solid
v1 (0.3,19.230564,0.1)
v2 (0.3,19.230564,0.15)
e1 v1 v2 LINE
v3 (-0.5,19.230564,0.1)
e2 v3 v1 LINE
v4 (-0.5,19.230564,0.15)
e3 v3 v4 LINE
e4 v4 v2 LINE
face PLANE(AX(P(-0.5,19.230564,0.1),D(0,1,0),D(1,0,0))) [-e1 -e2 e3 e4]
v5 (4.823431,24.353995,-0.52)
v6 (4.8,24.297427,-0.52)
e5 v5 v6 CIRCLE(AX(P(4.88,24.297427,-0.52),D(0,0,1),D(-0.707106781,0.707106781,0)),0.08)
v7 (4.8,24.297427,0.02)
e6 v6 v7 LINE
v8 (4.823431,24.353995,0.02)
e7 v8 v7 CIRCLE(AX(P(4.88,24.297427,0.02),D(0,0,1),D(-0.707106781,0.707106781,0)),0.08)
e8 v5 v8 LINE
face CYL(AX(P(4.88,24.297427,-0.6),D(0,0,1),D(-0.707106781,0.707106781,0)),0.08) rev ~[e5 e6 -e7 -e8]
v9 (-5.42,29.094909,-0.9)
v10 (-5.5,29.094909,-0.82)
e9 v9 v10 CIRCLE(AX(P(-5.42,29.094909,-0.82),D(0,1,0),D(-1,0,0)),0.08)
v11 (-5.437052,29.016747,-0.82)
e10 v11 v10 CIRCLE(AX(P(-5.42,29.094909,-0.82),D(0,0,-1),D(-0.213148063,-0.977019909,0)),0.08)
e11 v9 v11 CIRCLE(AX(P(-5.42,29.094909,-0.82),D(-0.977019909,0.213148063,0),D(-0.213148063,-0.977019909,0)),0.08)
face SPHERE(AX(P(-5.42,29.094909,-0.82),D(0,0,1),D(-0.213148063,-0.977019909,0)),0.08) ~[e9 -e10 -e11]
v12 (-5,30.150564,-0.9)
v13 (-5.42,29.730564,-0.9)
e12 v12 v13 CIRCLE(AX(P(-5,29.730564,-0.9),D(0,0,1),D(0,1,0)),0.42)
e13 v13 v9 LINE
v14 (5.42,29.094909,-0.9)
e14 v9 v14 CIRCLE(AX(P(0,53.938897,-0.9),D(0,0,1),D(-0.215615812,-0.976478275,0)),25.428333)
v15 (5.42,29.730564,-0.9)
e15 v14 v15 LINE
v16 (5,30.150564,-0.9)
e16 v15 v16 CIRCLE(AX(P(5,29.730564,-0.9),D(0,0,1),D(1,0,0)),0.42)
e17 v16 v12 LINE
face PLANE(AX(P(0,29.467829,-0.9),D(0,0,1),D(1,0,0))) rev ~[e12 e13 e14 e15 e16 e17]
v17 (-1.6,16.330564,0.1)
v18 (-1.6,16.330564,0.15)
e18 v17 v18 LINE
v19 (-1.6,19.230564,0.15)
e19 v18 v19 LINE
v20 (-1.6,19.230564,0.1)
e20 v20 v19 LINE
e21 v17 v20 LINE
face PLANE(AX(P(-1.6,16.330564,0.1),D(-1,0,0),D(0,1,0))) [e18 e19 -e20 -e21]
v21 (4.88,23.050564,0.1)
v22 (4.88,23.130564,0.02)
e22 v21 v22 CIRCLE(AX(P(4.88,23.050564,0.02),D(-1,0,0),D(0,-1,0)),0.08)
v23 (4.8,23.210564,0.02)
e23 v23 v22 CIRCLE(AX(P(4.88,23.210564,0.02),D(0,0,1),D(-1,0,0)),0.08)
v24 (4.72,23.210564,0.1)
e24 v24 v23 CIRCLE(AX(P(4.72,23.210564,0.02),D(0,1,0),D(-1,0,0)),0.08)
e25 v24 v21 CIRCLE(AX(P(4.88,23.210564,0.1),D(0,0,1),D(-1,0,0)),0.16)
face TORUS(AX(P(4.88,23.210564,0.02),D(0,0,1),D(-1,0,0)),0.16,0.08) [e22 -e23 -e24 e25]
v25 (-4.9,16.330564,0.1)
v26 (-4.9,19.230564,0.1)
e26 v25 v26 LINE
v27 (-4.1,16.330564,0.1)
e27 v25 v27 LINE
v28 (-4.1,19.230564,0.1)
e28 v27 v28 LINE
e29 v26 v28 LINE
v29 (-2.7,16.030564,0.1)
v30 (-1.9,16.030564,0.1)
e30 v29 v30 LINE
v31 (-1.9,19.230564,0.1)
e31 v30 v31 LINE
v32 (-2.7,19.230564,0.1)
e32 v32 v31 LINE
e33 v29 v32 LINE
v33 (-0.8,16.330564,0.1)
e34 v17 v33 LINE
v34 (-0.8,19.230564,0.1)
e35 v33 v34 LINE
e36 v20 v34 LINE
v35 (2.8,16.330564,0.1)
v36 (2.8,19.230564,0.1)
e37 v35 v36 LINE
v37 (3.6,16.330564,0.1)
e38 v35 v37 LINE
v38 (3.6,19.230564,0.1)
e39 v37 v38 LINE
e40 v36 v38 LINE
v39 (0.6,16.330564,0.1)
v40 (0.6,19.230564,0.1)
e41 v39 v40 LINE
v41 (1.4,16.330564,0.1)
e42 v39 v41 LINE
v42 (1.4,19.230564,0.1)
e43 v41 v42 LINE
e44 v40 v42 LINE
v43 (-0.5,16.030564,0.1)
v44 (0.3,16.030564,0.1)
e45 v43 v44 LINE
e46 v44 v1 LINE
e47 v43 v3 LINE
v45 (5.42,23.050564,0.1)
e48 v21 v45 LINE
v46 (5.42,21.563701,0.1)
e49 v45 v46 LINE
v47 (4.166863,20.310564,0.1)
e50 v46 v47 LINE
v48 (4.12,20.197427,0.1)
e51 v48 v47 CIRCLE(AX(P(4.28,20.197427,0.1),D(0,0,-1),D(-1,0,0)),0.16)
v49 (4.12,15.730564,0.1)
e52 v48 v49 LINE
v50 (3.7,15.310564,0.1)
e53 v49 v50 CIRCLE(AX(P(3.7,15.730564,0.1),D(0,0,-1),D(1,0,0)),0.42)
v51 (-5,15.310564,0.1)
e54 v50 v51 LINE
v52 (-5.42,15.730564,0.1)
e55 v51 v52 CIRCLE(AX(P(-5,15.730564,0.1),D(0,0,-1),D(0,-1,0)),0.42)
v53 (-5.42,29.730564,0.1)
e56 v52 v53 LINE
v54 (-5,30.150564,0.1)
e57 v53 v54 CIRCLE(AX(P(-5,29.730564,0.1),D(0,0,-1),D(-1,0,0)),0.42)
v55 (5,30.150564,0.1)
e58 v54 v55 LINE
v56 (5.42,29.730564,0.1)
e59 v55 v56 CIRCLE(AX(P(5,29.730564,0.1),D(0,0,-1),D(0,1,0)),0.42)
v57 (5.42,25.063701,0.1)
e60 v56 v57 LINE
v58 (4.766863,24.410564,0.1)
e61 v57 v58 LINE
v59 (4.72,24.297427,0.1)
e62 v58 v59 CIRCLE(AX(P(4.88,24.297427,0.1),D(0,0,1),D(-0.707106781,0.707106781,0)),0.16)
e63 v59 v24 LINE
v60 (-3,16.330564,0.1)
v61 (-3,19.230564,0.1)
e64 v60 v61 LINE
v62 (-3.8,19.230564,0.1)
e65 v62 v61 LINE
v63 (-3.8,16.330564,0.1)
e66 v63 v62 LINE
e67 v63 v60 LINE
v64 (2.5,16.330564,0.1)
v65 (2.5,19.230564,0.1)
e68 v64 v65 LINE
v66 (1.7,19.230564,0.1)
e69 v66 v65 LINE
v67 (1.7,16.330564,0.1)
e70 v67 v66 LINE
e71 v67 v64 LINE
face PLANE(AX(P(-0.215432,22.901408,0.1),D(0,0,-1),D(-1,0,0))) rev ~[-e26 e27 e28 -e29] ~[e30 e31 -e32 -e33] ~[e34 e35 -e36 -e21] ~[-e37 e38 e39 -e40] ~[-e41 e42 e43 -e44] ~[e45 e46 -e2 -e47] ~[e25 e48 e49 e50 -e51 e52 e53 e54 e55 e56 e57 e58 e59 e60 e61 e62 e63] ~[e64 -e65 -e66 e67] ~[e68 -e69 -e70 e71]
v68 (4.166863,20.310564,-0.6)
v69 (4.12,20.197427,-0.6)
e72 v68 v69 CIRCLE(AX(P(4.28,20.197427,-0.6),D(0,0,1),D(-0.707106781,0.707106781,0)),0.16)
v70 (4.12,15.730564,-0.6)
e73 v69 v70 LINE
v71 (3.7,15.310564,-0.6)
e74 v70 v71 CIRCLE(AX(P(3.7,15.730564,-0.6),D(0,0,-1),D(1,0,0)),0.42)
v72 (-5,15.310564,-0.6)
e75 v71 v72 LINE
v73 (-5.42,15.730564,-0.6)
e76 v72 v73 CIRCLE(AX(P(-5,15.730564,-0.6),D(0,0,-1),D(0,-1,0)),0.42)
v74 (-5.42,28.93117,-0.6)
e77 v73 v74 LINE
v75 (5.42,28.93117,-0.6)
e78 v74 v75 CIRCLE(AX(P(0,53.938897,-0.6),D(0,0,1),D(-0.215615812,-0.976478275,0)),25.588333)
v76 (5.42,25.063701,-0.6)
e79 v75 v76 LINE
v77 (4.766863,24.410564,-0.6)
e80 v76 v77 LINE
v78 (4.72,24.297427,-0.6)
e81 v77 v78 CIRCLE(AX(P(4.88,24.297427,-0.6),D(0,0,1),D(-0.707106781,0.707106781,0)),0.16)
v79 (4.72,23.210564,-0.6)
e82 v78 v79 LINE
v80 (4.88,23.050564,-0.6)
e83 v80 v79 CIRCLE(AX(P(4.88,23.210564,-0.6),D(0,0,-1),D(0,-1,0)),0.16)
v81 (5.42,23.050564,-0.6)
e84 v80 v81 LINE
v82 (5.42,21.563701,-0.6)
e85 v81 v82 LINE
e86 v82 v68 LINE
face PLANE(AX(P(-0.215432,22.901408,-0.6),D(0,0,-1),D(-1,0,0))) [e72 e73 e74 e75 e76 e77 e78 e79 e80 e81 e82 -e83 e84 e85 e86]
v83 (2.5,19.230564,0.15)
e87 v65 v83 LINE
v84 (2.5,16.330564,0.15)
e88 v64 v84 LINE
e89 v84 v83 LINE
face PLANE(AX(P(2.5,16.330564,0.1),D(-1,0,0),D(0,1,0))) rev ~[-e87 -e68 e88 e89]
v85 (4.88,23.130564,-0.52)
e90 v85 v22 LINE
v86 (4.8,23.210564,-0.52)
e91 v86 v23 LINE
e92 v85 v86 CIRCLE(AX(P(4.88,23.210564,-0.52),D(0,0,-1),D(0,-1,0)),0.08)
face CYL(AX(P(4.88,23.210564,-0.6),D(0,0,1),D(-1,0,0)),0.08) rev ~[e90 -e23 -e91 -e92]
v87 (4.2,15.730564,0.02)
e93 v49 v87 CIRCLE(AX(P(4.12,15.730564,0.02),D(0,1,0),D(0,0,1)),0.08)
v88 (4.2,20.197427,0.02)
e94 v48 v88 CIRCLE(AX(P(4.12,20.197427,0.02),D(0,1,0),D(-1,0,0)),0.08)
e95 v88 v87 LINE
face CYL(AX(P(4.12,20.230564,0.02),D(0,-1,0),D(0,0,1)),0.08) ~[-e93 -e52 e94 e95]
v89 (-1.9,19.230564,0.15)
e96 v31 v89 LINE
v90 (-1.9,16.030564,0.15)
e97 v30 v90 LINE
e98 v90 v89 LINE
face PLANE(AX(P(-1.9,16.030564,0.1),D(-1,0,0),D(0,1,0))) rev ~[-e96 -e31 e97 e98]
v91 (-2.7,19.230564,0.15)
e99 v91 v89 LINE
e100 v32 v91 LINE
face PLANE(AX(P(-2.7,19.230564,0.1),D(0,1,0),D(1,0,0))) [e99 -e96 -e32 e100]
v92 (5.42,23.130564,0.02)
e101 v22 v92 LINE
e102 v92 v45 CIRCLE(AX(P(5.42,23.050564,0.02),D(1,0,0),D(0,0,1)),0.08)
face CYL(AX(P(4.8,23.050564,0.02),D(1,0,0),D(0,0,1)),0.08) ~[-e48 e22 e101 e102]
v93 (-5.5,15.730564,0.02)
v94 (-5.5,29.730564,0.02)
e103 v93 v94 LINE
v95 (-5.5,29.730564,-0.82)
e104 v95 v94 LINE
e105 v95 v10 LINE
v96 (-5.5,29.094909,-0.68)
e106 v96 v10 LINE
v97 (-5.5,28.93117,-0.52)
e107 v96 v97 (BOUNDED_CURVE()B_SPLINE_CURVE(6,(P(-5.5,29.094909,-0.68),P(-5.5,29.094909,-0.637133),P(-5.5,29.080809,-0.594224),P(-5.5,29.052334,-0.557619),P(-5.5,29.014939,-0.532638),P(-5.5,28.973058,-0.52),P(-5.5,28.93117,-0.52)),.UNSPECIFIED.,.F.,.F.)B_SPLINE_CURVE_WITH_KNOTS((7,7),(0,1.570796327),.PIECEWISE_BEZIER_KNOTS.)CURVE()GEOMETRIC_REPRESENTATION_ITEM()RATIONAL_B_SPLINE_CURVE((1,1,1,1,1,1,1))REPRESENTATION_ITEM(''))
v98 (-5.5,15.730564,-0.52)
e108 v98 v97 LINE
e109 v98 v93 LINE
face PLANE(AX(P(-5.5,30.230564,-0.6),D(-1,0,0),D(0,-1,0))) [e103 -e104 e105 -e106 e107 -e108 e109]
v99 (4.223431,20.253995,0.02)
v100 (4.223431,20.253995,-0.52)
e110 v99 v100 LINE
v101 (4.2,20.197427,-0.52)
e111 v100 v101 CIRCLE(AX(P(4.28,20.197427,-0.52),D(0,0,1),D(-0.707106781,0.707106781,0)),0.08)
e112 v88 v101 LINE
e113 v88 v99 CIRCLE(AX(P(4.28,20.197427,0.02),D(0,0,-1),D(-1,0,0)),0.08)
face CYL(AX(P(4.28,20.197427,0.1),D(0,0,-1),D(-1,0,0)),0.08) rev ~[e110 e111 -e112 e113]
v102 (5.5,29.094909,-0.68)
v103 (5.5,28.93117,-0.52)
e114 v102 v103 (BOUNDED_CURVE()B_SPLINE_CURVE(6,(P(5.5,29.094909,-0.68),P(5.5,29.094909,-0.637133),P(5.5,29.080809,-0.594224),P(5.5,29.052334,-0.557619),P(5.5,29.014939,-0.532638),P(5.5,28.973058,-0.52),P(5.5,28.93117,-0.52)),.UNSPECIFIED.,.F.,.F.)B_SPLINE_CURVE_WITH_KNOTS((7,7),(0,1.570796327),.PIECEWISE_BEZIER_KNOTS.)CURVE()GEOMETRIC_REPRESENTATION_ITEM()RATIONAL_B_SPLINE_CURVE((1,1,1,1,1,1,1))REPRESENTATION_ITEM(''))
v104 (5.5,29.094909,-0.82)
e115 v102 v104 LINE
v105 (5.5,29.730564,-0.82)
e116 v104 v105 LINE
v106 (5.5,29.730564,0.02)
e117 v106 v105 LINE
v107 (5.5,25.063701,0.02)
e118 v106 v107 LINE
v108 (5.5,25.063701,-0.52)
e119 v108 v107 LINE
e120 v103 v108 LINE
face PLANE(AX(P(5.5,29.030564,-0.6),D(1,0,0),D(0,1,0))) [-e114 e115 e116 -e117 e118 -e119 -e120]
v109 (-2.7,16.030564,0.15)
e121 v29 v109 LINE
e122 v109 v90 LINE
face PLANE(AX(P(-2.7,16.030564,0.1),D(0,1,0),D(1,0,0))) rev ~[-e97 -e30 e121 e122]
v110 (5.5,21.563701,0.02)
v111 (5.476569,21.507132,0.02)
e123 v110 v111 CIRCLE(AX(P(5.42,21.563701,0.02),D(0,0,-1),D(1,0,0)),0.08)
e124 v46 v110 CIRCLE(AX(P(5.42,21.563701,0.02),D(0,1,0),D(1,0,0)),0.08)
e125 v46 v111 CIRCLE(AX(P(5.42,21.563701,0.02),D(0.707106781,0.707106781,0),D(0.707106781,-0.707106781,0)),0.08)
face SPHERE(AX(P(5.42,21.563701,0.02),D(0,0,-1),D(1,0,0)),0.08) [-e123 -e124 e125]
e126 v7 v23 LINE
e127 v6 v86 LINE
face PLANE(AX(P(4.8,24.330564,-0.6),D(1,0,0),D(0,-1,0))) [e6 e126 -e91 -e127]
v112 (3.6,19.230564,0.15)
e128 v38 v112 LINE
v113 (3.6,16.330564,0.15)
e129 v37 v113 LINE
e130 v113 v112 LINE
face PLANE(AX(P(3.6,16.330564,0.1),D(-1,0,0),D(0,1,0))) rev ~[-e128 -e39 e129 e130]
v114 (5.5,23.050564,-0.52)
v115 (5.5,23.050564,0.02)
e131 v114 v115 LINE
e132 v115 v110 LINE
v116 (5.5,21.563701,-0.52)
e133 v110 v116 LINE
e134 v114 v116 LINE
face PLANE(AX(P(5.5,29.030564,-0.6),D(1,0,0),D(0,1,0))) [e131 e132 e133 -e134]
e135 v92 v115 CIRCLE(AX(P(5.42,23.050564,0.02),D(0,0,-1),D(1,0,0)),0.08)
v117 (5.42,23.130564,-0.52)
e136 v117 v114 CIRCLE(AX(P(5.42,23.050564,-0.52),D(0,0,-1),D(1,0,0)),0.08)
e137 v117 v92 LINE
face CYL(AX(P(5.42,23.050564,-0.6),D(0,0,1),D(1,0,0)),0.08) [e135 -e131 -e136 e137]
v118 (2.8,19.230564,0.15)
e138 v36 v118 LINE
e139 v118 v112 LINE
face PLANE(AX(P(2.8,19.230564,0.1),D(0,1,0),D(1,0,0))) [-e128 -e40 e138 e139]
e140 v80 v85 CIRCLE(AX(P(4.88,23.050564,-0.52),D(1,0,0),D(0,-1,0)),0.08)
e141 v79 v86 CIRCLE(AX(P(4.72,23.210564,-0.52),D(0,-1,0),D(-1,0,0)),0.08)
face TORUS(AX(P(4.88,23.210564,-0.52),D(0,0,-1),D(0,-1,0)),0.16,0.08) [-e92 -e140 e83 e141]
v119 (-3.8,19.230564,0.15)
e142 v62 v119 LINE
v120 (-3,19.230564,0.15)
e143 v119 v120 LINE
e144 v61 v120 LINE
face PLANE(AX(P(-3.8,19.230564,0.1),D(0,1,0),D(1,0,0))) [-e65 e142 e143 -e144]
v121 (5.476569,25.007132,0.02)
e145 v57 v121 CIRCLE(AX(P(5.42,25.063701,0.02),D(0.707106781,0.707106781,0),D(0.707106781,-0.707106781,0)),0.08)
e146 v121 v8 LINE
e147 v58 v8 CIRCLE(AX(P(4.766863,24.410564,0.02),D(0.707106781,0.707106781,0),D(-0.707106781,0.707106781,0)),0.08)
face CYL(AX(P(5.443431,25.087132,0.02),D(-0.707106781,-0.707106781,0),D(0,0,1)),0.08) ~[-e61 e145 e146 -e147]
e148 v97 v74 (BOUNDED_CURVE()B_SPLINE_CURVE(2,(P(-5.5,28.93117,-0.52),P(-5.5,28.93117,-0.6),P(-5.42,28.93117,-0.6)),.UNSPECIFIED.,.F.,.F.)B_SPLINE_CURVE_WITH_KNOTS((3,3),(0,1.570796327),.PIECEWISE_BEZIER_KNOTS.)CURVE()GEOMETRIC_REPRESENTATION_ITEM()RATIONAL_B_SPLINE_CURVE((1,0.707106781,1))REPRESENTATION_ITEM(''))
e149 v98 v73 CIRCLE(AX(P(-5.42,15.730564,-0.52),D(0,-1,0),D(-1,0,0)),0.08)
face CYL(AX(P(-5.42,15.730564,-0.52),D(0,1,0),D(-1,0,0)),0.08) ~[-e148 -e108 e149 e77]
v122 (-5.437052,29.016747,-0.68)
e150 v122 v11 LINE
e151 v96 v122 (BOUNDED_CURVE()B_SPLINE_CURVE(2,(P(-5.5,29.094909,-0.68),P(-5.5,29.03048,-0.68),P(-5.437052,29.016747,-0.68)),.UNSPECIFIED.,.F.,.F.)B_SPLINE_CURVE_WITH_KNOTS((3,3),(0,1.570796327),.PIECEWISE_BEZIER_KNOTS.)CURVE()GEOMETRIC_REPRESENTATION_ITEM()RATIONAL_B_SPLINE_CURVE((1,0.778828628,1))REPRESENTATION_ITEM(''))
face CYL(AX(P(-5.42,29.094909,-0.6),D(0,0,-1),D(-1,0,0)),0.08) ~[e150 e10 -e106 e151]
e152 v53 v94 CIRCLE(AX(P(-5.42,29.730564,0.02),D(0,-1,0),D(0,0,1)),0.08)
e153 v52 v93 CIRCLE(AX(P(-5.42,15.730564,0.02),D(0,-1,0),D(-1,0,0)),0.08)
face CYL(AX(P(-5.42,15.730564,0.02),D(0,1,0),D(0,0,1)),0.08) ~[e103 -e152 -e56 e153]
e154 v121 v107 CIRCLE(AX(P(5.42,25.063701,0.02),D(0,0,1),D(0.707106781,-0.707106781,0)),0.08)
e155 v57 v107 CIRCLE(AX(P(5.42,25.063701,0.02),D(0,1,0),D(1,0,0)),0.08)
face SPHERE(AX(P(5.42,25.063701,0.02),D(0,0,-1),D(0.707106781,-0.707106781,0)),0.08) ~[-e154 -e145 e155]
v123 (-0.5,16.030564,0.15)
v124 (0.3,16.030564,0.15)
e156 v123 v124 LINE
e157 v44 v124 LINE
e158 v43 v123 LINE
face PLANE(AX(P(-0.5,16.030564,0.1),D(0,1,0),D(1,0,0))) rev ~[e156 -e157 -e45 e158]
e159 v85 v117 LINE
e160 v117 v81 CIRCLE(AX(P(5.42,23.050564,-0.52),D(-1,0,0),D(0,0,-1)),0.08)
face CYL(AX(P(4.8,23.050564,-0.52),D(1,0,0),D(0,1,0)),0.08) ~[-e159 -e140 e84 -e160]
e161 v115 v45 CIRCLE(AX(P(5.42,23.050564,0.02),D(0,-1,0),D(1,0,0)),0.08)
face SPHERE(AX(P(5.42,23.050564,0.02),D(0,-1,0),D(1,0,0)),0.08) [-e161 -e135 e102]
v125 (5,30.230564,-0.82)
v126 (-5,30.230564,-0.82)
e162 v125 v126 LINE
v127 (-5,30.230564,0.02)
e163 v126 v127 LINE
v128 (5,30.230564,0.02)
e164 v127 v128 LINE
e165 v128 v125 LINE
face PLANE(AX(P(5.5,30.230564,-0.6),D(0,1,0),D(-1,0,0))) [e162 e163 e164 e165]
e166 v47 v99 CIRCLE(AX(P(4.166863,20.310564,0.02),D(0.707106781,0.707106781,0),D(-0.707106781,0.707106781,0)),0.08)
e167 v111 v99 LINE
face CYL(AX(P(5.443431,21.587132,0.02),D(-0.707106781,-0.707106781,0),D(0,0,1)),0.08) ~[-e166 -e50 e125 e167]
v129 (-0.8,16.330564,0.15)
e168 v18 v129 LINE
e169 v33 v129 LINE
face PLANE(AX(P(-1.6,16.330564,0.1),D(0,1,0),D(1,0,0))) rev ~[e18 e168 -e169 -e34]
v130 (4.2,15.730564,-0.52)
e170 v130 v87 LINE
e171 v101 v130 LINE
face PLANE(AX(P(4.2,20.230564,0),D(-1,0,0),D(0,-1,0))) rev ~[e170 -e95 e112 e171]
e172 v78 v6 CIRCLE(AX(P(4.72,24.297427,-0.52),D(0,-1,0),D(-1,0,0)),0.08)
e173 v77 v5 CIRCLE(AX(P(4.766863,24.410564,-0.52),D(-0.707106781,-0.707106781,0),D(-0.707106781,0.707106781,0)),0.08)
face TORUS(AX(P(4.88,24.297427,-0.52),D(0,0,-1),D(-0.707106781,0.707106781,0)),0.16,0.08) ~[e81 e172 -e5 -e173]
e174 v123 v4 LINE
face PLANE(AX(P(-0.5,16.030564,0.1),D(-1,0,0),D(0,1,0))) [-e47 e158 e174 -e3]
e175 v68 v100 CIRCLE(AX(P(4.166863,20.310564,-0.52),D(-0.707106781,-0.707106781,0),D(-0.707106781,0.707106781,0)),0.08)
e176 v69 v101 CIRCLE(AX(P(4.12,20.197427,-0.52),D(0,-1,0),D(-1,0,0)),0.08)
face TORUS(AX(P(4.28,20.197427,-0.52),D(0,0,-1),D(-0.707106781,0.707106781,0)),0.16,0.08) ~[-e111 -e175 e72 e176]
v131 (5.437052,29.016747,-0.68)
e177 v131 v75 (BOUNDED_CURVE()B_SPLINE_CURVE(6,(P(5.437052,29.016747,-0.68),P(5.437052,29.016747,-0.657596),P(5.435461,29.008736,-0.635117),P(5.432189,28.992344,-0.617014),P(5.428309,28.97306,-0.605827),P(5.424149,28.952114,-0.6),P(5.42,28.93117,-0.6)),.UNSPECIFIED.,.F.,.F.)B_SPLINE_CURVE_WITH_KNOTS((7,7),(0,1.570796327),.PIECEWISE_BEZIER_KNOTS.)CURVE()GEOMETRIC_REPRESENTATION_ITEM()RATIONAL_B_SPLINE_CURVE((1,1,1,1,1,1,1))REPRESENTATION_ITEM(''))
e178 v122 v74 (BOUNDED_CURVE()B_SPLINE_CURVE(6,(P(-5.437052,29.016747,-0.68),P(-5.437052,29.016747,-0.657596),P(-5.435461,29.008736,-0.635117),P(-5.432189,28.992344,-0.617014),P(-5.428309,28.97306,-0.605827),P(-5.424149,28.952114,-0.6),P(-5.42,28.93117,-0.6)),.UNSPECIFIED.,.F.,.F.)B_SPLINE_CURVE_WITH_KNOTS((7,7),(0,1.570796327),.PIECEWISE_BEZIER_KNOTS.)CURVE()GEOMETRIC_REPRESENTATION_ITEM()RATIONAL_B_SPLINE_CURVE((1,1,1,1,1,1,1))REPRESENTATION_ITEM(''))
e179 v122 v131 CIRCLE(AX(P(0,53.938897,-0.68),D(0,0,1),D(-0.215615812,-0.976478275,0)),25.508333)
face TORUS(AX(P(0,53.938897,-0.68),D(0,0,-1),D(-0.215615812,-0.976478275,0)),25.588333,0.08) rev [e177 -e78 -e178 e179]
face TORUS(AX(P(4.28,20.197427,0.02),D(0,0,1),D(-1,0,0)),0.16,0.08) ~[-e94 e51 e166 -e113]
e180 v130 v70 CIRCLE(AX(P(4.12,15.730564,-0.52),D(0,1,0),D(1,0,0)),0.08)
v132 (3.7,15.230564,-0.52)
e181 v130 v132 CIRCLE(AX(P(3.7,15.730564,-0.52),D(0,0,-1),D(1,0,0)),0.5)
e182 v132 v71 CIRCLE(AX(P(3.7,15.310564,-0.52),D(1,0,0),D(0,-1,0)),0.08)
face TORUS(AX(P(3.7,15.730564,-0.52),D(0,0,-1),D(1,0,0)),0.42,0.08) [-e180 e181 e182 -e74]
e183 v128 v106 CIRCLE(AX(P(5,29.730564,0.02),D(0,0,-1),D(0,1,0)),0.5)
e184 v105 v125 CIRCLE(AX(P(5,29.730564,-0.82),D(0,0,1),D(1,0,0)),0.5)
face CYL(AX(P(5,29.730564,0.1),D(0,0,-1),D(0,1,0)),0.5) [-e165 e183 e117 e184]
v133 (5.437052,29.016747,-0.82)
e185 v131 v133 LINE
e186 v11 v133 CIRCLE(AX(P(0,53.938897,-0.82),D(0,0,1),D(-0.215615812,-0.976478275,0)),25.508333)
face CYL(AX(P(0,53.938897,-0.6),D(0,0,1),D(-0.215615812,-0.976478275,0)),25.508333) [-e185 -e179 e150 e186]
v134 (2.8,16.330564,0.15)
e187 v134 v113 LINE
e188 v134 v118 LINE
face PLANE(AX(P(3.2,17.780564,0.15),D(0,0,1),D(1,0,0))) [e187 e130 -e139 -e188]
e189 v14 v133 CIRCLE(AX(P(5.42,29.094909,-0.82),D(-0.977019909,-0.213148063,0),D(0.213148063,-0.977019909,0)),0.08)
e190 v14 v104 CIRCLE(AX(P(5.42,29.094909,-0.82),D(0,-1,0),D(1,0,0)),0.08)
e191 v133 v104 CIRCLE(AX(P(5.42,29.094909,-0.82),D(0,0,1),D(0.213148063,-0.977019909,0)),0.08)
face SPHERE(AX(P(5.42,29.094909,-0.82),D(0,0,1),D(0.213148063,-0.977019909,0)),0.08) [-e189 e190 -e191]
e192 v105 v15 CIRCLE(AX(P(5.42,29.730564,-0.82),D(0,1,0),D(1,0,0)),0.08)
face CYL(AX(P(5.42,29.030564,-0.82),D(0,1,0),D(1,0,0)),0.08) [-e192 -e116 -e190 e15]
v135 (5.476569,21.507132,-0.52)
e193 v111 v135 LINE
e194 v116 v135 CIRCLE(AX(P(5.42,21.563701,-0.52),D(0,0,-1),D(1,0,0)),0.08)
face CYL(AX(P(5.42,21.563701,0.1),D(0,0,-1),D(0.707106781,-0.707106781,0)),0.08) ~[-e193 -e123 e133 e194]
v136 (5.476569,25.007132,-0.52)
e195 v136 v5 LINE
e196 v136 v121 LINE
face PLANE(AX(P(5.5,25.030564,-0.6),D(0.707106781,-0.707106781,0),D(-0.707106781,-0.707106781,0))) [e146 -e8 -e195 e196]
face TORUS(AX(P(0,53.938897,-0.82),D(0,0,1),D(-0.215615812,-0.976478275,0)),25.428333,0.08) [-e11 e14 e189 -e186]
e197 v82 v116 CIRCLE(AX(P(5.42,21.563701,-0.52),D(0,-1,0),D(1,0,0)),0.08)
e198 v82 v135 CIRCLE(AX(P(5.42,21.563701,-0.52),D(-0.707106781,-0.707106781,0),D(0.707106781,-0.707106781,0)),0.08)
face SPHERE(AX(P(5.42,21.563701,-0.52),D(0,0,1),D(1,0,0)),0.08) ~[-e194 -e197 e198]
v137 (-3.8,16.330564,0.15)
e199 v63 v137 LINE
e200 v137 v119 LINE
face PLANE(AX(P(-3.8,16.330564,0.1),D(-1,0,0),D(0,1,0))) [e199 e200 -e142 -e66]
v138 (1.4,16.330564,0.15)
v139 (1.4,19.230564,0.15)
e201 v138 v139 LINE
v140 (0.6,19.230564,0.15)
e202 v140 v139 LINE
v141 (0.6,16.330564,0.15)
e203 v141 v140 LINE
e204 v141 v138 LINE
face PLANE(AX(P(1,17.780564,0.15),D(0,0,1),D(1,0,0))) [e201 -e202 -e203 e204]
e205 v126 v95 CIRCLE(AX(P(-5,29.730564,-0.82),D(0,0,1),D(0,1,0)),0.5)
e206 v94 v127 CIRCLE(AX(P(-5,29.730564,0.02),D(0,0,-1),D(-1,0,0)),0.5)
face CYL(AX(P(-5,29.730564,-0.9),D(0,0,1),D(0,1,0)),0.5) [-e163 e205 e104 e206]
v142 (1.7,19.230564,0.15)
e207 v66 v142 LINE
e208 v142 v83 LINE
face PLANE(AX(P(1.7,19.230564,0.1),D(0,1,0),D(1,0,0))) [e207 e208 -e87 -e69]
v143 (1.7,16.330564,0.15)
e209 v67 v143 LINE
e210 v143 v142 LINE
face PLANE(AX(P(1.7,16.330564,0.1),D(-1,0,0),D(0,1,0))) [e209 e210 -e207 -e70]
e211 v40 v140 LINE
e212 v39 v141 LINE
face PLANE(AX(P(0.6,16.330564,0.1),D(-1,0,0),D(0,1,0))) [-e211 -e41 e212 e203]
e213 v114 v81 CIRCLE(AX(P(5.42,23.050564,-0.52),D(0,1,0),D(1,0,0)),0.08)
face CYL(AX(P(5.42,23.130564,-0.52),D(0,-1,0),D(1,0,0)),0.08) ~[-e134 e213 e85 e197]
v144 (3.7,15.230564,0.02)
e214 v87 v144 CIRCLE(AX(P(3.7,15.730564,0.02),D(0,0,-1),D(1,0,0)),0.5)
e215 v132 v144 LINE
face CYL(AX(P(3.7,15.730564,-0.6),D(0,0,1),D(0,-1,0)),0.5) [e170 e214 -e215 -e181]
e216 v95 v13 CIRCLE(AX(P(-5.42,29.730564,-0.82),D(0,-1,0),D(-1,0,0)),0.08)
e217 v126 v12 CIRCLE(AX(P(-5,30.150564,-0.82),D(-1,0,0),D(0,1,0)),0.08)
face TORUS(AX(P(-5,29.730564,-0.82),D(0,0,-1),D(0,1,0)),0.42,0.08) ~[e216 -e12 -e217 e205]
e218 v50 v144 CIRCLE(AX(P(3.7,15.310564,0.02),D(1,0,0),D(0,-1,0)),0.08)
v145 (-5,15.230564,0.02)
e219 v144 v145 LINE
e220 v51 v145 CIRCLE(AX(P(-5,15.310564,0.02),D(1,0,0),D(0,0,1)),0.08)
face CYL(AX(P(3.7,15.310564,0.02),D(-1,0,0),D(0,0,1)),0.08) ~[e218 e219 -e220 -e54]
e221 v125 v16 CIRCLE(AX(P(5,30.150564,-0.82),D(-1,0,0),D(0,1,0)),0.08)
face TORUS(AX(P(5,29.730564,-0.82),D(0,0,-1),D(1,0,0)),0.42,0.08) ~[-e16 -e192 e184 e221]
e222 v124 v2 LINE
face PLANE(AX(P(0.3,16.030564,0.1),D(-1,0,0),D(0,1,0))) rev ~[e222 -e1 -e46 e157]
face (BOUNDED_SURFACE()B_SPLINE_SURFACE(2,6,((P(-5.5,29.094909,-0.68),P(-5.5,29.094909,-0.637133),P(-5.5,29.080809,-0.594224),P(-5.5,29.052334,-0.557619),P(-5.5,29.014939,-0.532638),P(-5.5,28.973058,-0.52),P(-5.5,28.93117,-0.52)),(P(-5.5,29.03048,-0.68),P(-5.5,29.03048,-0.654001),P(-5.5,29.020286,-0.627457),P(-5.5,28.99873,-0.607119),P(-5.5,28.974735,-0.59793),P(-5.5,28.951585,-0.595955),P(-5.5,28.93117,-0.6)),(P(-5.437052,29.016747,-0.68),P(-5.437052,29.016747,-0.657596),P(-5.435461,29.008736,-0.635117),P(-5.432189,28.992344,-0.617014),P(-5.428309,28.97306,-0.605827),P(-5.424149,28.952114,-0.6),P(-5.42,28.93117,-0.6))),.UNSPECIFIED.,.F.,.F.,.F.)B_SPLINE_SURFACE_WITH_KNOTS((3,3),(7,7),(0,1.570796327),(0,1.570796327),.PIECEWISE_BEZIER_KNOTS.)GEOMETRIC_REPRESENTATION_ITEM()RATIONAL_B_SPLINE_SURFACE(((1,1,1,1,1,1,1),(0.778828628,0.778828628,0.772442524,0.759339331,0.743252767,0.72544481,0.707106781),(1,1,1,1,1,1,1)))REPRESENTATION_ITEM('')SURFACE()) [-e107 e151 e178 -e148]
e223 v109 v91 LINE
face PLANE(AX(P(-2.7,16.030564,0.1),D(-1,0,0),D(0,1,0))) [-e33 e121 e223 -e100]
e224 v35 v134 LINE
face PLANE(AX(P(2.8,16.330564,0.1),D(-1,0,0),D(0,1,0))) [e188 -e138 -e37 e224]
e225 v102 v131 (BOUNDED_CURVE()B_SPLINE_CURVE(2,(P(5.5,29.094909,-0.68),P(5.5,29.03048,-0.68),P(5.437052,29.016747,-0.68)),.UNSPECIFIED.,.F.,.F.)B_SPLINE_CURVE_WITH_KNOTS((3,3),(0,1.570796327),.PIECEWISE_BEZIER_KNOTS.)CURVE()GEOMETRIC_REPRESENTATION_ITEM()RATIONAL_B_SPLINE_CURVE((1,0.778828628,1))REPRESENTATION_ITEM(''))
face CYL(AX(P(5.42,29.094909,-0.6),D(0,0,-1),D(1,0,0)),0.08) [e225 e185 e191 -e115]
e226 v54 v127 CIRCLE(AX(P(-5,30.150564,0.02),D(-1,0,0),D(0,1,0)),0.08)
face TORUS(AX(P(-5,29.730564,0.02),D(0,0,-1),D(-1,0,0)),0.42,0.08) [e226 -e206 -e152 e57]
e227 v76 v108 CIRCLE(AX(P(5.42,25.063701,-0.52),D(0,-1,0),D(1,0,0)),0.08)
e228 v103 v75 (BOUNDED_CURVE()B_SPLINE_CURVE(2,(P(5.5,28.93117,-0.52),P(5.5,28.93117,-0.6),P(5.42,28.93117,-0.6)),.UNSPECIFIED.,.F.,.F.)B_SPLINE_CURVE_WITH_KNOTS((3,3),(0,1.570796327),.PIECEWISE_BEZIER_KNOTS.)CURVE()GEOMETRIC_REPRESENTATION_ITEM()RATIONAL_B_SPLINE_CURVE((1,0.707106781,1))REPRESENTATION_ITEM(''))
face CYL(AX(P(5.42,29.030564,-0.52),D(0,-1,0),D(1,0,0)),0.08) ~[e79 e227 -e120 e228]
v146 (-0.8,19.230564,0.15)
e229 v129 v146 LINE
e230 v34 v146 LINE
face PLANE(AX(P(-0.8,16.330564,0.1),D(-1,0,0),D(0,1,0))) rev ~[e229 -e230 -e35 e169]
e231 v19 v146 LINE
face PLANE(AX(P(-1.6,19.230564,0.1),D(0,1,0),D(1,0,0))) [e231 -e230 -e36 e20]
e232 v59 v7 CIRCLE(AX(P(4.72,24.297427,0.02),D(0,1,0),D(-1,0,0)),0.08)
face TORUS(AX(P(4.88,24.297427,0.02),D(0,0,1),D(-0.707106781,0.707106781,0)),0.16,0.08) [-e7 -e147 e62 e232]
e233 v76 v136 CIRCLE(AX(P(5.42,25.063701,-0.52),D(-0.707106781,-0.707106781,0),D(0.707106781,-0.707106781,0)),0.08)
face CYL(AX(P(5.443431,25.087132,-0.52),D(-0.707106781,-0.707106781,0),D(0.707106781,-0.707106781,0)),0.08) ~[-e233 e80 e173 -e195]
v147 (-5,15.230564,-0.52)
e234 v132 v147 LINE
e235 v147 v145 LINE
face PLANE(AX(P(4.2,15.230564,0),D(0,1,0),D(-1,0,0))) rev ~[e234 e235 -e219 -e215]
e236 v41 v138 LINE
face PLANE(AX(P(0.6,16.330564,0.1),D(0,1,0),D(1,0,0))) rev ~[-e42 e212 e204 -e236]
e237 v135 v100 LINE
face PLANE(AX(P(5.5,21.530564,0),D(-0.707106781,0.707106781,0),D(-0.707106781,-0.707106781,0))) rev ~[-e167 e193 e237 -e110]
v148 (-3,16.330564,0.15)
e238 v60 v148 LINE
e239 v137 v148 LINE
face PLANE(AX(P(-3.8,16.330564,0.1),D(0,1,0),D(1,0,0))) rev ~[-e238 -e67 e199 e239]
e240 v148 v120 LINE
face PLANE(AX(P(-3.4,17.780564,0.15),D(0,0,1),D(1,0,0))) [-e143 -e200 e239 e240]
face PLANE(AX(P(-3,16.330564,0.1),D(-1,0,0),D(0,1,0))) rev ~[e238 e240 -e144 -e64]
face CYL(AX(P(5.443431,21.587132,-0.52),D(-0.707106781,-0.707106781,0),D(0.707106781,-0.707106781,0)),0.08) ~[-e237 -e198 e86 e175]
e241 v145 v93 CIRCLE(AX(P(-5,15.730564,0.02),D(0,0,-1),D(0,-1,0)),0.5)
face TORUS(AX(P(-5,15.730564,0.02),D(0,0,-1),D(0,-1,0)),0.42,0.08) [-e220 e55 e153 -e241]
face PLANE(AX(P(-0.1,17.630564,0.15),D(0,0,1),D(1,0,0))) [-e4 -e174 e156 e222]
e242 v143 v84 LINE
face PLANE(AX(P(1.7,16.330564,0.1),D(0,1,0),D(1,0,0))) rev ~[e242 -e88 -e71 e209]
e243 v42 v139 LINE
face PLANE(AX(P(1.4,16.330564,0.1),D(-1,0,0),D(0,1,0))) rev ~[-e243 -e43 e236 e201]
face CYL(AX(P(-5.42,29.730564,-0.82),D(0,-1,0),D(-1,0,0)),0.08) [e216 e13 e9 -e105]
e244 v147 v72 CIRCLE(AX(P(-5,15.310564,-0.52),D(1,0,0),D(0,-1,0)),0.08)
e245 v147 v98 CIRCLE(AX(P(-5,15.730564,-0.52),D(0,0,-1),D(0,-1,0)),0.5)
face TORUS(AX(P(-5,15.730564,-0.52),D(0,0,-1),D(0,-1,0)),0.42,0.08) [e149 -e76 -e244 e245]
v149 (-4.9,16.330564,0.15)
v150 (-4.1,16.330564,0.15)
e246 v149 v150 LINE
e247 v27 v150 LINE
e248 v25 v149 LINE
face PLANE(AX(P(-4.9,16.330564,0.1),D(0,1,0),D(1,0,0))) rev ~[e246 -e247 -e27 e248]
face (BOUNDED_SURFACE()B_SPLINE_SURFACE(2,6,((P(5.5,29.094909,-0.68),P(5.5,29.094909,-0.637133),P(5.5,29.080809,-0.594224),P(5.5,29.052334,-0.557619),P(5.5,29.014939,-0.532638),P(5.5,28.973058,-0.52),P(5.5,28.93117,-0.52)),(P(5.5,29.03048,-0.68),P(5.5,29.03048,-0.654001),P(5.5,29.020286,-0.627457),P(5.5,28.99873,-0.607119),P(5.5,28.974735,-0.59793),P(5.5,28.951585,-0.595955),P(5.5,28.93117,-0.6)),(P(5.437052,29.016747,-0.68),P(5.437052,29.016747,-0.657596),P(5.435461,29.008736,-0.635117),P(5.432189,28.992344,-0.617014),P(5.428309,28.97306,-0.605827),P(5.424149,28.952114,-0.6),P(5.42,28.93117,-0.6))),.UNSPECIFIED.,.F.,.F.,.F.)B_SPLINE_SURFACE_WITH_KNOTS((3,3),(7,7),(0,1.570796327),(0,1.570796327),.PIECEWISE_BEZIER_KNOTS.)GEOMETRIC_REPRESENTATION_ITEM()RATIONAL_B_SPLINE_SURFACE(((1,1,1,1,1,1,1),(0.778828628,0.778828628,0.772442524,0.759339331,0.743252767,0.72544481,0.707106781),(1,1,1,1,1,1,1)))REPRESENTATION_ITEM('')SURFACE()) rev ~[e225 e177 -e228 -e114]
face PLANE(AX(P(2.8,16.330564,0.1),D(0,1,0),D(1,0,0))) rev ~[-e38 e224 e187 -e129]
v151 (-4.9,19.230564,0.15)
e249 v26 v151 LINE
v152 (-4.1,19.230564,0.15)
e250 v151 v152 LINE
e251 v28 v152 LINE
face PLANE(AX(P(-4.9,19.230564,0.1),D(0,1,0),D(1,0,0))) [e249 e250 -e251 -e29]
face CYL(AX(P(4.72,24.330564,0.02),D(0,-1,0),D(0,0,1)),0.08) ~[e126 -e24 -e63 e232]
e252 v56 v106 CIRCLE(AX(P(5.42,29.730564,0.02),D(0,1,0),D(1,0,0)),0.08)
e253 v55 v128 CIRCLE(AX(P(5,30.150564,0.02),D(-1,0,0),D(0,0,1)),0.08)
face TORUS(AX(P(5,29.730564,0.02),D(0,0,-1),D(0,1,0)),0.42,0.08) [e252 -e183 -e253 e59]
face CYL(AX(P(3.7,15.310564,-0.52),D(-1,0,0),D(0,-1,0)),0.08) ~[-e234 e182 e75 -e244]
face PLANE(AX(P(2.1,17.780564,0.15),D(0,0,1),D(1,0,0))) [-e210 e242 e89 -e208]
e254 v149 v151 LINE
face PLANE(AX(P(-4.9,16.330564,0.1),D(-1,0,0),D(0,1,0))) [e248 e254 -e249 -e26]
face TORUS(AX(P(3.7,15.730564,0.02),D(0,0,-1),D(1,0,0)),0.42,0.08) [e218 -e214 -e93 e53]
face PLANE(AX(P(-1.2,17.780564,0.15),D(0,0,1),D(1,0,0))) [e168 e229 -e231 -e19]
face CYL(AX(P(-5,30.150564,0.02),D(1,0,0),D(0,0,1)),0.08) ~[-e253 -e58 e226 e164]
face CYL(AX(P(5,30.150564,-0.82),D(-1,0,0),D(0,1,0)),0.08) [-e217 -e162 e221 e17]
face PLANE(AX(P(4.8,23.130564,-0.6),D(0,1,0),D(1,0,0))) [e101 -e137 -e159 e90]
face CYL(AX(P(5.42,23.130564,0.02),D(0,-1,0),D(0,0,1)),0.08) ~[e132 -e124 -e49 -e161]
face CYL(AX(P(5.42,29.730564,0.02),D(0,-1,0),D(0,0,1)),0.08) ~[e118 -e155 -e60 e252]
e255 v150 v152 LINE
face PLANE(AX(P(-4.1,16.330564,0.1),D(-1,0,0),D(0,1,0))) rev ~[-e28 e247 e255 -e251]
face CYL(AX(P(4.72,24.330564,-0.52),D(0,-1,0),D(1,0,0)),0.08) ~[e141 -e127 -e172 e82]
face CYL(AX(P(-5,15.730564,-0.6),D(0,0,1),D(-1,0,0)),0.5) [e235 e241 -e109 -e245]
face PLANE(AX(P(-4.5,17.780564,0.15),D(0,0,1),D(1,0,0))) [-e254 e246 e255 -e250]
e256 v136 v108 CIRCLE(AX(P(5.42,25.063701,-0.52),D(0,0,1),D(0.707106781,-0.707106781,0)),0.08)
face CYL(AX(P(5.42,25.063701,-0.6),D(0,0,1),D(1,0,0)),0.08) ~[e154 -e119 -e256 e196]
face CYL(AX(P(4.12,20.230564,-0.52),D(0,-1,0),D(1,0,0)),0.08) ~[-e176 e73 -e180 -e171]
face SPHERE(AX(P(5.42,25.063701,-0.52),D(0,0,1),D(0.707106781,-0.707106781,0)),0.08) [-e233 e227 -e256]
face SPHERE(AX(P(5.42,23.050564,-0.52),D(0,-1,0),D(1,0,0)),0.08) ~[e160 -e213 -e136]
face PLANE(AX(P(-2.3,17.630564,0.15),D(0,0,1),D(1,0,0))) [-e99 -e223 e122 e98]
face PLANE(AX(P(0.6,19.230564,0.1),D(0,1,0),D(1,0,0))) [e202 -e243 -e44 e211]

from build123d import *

# Parameters (mm, degrees)
BOSS_EXTRUDE1_DEPTH      = 0.1
BOSS_EXTRUDE1_DEPTH_BACK = 0.6
BOSS_EXTRUDE2_DEPTH      = 0.3
SKETCH3_W                = 0.8
SKETCH3_H                = 2.9
SKETCH3_H_2              = 3.2
BOSS_EXTRUDE3_DEPTH      = 0.05
CUT_EXTRUDE1_DEPTH       = 0.7
FILLET1_R                = 0.5
FILLET2_R                = 0.08


with BuildPart() as part:
    # Sketch1 → Boss-Extrude1 (new body, two sides)
    with BuildSketch(Plane.XY) as boss_extrude1_sk:
        Polygon((-5.5, 30.230563632), (5.5, 30.230563632), (5.5, 21.530563632), (4.2, 20.230563632), (4.2, 15.230563632), (-5.5, 15.230563632), align=None)
    extrude(amount=BOSS_EXTRUDE1_DEPTH)
    extrude(boss_extrude1_sk.sketch, amount=-BOSS_EXTRUDE1_DEPTH_BACK)

    # Sketch2 → Boss-Extrude2 (add)
    with BuildSketch(Plane(origin=(0, 0, -0.6), x_dir=(-1, 0, 0), z_dir=(0, 0, -1))):
        with BuildLine():
            Line((-5.5, 30.230563632), (5.5, 30.230563632))
            Line((5.5, 30.230563632), (5.5, 29.030563632))
            ThreePointArc((5.5, 29.030563632), (0, 28.430563632), (-5.5, 29.030563632))
            Line((-5.5, 29.030563632), (-5.5, 30.230563632))
        make_face()
    extrude(amount=BOSS_EXTRUDE2_DEPTH)

    # Sketch3 → Boss-Extrude3 (add)
    with BuildSketch(Plane.XY.offset(0.1)):
        with Locations((-4.5, 17.780563632)):
            Rectangle(SKETCH3_W, SKETCH3_H)
        with Locations((3.2, 17.780563632)):
            Rectangle(SKETCH3_W, SKETCH3_H)
        with Locations((-3.4, 17.780563632)):
            Rectangle(SKETCH3_W, SKETCH3_H)
        with Locations((-1.2, 17.780563632)):
            Rectangle(SKETCH3_W, SKETCH3_H)
        with Locations((1, 17.780563632)):
            Rectangle(SKETCH3_W, SKETCH3_H)
        with Locations((2.1, 17.780563632)):
            Rectangle(SKETCH3_W, SKETCH3_H)
        with Locations((-2.3, 17.630563632)):
            Rectangle(SKETCH3_W, SKETCH3_H_2)
        with Locations((-0.1, 17.630563632)):
            Rectangle(SKETCH3_W, SKETCH3_H_2)
    extrude(amount=BOSS_EXTRUDE3_DEPTH)

    # Sketch4 → Cut-Extrude1 (cut)
    with BuildSketch(Plane(origin=(0, 0, -0.6), x_dir=(-1, 0, 0), z_dir=(0, 0, -1))):
        Polygon((-5.5, 23.130563632), (-5.5, 25.030563632), (-4.8, 24.330563632), (-4.8, 23.130563632), align=None)
    extrude(amount=-CUT_EXTRUDE1_DEPTH, mode=Mode.SUBTRACT)

    # Fillet1
    fillet1_edges = [part.edges().sort_by_distance(p)[0] for p in [
        (-5.5, 15.230563632, -0.25),
        (-5.5, 30.230563632, -0.4),
        (5.5, 30.230563632, -0.4),
        (4.2, 15.230563632, -0.25),
    ]]
    fillet(fillet1_edges, radius=FILLET1_R)

    # Fillet2
    fillet2_edges = [part.edges().sort_by_distance(p)[0] for p in [
        (4.85, 20.880563632, 0.1),
        (5.5, 21.530563632, -0.25),
        (4.2, 20.230563632, -0.25),
        (5.5, 22.330563632, 0.1),
        (5.5, 22.330563632, -0.6),
        (4.85, 20.880563632, -0.6),
        (5.5, 27.030563632, -0.6),
        (5.5, 27.380563632, 0.1),
        (5.5, 25.030563632, -0.25),
        (4.8, 24.330563632, -0.25),
        (4.8, 23.130563632, -0.25),
        (5.5, 23.130563632, -0.25),
        (5.15, 24.680563632, -0.6),
        (5.15, 23.130563632, -0.6),
        (4.8, 23.730563632, -0.6),
        (5.15, 24.680563632, 0.1),
        (4.8, 23.730563632, 0.1),
        (5.15, 23.130563632, 0.1),
        (0, 30.230563632, -0.9),
        (0, 30.230563632, 0.1),
        (5.5, 29.380563632, -0.9),
        (-5.353553391, 30.084117023, -0.9),
        (5.353553391, 30.084117023, -0.9),
        (-5.5, 22.730563632, 0.1),
        (-0.65, 15.230563632, 0.1),
        (4.2, 17.980563632, 0.1),
        (4.053553391, 15.377010242, 0.1),
        (-5.353553391, 15.377010242, 0.1),
        (-5.353553391, 30.084117023, 0.1),
        (5.353553391, 30.084117023, 0.1),
        (-0.65, 15.230563632, -0.6),
        (4.2, 17.980563632, -0.6),
        (4.053553391, 15.377010242, -0.6),
        (-5.353553391, 15.377010242, -0.6),
        (-5.5, 22.380563632, -0.6),
        (0, 28.430563632, -0.6),
        (5.5, 29.030563632, -0.75),
        (-5.5, 29.030563632, -0.75),
        (0, 28.430563632, -0.9),
        (-5.5, 29.380563632, -0.9),
    ]]
    fillet(fillet2_edges, radius=FILLET2_R)


solid = part.part
